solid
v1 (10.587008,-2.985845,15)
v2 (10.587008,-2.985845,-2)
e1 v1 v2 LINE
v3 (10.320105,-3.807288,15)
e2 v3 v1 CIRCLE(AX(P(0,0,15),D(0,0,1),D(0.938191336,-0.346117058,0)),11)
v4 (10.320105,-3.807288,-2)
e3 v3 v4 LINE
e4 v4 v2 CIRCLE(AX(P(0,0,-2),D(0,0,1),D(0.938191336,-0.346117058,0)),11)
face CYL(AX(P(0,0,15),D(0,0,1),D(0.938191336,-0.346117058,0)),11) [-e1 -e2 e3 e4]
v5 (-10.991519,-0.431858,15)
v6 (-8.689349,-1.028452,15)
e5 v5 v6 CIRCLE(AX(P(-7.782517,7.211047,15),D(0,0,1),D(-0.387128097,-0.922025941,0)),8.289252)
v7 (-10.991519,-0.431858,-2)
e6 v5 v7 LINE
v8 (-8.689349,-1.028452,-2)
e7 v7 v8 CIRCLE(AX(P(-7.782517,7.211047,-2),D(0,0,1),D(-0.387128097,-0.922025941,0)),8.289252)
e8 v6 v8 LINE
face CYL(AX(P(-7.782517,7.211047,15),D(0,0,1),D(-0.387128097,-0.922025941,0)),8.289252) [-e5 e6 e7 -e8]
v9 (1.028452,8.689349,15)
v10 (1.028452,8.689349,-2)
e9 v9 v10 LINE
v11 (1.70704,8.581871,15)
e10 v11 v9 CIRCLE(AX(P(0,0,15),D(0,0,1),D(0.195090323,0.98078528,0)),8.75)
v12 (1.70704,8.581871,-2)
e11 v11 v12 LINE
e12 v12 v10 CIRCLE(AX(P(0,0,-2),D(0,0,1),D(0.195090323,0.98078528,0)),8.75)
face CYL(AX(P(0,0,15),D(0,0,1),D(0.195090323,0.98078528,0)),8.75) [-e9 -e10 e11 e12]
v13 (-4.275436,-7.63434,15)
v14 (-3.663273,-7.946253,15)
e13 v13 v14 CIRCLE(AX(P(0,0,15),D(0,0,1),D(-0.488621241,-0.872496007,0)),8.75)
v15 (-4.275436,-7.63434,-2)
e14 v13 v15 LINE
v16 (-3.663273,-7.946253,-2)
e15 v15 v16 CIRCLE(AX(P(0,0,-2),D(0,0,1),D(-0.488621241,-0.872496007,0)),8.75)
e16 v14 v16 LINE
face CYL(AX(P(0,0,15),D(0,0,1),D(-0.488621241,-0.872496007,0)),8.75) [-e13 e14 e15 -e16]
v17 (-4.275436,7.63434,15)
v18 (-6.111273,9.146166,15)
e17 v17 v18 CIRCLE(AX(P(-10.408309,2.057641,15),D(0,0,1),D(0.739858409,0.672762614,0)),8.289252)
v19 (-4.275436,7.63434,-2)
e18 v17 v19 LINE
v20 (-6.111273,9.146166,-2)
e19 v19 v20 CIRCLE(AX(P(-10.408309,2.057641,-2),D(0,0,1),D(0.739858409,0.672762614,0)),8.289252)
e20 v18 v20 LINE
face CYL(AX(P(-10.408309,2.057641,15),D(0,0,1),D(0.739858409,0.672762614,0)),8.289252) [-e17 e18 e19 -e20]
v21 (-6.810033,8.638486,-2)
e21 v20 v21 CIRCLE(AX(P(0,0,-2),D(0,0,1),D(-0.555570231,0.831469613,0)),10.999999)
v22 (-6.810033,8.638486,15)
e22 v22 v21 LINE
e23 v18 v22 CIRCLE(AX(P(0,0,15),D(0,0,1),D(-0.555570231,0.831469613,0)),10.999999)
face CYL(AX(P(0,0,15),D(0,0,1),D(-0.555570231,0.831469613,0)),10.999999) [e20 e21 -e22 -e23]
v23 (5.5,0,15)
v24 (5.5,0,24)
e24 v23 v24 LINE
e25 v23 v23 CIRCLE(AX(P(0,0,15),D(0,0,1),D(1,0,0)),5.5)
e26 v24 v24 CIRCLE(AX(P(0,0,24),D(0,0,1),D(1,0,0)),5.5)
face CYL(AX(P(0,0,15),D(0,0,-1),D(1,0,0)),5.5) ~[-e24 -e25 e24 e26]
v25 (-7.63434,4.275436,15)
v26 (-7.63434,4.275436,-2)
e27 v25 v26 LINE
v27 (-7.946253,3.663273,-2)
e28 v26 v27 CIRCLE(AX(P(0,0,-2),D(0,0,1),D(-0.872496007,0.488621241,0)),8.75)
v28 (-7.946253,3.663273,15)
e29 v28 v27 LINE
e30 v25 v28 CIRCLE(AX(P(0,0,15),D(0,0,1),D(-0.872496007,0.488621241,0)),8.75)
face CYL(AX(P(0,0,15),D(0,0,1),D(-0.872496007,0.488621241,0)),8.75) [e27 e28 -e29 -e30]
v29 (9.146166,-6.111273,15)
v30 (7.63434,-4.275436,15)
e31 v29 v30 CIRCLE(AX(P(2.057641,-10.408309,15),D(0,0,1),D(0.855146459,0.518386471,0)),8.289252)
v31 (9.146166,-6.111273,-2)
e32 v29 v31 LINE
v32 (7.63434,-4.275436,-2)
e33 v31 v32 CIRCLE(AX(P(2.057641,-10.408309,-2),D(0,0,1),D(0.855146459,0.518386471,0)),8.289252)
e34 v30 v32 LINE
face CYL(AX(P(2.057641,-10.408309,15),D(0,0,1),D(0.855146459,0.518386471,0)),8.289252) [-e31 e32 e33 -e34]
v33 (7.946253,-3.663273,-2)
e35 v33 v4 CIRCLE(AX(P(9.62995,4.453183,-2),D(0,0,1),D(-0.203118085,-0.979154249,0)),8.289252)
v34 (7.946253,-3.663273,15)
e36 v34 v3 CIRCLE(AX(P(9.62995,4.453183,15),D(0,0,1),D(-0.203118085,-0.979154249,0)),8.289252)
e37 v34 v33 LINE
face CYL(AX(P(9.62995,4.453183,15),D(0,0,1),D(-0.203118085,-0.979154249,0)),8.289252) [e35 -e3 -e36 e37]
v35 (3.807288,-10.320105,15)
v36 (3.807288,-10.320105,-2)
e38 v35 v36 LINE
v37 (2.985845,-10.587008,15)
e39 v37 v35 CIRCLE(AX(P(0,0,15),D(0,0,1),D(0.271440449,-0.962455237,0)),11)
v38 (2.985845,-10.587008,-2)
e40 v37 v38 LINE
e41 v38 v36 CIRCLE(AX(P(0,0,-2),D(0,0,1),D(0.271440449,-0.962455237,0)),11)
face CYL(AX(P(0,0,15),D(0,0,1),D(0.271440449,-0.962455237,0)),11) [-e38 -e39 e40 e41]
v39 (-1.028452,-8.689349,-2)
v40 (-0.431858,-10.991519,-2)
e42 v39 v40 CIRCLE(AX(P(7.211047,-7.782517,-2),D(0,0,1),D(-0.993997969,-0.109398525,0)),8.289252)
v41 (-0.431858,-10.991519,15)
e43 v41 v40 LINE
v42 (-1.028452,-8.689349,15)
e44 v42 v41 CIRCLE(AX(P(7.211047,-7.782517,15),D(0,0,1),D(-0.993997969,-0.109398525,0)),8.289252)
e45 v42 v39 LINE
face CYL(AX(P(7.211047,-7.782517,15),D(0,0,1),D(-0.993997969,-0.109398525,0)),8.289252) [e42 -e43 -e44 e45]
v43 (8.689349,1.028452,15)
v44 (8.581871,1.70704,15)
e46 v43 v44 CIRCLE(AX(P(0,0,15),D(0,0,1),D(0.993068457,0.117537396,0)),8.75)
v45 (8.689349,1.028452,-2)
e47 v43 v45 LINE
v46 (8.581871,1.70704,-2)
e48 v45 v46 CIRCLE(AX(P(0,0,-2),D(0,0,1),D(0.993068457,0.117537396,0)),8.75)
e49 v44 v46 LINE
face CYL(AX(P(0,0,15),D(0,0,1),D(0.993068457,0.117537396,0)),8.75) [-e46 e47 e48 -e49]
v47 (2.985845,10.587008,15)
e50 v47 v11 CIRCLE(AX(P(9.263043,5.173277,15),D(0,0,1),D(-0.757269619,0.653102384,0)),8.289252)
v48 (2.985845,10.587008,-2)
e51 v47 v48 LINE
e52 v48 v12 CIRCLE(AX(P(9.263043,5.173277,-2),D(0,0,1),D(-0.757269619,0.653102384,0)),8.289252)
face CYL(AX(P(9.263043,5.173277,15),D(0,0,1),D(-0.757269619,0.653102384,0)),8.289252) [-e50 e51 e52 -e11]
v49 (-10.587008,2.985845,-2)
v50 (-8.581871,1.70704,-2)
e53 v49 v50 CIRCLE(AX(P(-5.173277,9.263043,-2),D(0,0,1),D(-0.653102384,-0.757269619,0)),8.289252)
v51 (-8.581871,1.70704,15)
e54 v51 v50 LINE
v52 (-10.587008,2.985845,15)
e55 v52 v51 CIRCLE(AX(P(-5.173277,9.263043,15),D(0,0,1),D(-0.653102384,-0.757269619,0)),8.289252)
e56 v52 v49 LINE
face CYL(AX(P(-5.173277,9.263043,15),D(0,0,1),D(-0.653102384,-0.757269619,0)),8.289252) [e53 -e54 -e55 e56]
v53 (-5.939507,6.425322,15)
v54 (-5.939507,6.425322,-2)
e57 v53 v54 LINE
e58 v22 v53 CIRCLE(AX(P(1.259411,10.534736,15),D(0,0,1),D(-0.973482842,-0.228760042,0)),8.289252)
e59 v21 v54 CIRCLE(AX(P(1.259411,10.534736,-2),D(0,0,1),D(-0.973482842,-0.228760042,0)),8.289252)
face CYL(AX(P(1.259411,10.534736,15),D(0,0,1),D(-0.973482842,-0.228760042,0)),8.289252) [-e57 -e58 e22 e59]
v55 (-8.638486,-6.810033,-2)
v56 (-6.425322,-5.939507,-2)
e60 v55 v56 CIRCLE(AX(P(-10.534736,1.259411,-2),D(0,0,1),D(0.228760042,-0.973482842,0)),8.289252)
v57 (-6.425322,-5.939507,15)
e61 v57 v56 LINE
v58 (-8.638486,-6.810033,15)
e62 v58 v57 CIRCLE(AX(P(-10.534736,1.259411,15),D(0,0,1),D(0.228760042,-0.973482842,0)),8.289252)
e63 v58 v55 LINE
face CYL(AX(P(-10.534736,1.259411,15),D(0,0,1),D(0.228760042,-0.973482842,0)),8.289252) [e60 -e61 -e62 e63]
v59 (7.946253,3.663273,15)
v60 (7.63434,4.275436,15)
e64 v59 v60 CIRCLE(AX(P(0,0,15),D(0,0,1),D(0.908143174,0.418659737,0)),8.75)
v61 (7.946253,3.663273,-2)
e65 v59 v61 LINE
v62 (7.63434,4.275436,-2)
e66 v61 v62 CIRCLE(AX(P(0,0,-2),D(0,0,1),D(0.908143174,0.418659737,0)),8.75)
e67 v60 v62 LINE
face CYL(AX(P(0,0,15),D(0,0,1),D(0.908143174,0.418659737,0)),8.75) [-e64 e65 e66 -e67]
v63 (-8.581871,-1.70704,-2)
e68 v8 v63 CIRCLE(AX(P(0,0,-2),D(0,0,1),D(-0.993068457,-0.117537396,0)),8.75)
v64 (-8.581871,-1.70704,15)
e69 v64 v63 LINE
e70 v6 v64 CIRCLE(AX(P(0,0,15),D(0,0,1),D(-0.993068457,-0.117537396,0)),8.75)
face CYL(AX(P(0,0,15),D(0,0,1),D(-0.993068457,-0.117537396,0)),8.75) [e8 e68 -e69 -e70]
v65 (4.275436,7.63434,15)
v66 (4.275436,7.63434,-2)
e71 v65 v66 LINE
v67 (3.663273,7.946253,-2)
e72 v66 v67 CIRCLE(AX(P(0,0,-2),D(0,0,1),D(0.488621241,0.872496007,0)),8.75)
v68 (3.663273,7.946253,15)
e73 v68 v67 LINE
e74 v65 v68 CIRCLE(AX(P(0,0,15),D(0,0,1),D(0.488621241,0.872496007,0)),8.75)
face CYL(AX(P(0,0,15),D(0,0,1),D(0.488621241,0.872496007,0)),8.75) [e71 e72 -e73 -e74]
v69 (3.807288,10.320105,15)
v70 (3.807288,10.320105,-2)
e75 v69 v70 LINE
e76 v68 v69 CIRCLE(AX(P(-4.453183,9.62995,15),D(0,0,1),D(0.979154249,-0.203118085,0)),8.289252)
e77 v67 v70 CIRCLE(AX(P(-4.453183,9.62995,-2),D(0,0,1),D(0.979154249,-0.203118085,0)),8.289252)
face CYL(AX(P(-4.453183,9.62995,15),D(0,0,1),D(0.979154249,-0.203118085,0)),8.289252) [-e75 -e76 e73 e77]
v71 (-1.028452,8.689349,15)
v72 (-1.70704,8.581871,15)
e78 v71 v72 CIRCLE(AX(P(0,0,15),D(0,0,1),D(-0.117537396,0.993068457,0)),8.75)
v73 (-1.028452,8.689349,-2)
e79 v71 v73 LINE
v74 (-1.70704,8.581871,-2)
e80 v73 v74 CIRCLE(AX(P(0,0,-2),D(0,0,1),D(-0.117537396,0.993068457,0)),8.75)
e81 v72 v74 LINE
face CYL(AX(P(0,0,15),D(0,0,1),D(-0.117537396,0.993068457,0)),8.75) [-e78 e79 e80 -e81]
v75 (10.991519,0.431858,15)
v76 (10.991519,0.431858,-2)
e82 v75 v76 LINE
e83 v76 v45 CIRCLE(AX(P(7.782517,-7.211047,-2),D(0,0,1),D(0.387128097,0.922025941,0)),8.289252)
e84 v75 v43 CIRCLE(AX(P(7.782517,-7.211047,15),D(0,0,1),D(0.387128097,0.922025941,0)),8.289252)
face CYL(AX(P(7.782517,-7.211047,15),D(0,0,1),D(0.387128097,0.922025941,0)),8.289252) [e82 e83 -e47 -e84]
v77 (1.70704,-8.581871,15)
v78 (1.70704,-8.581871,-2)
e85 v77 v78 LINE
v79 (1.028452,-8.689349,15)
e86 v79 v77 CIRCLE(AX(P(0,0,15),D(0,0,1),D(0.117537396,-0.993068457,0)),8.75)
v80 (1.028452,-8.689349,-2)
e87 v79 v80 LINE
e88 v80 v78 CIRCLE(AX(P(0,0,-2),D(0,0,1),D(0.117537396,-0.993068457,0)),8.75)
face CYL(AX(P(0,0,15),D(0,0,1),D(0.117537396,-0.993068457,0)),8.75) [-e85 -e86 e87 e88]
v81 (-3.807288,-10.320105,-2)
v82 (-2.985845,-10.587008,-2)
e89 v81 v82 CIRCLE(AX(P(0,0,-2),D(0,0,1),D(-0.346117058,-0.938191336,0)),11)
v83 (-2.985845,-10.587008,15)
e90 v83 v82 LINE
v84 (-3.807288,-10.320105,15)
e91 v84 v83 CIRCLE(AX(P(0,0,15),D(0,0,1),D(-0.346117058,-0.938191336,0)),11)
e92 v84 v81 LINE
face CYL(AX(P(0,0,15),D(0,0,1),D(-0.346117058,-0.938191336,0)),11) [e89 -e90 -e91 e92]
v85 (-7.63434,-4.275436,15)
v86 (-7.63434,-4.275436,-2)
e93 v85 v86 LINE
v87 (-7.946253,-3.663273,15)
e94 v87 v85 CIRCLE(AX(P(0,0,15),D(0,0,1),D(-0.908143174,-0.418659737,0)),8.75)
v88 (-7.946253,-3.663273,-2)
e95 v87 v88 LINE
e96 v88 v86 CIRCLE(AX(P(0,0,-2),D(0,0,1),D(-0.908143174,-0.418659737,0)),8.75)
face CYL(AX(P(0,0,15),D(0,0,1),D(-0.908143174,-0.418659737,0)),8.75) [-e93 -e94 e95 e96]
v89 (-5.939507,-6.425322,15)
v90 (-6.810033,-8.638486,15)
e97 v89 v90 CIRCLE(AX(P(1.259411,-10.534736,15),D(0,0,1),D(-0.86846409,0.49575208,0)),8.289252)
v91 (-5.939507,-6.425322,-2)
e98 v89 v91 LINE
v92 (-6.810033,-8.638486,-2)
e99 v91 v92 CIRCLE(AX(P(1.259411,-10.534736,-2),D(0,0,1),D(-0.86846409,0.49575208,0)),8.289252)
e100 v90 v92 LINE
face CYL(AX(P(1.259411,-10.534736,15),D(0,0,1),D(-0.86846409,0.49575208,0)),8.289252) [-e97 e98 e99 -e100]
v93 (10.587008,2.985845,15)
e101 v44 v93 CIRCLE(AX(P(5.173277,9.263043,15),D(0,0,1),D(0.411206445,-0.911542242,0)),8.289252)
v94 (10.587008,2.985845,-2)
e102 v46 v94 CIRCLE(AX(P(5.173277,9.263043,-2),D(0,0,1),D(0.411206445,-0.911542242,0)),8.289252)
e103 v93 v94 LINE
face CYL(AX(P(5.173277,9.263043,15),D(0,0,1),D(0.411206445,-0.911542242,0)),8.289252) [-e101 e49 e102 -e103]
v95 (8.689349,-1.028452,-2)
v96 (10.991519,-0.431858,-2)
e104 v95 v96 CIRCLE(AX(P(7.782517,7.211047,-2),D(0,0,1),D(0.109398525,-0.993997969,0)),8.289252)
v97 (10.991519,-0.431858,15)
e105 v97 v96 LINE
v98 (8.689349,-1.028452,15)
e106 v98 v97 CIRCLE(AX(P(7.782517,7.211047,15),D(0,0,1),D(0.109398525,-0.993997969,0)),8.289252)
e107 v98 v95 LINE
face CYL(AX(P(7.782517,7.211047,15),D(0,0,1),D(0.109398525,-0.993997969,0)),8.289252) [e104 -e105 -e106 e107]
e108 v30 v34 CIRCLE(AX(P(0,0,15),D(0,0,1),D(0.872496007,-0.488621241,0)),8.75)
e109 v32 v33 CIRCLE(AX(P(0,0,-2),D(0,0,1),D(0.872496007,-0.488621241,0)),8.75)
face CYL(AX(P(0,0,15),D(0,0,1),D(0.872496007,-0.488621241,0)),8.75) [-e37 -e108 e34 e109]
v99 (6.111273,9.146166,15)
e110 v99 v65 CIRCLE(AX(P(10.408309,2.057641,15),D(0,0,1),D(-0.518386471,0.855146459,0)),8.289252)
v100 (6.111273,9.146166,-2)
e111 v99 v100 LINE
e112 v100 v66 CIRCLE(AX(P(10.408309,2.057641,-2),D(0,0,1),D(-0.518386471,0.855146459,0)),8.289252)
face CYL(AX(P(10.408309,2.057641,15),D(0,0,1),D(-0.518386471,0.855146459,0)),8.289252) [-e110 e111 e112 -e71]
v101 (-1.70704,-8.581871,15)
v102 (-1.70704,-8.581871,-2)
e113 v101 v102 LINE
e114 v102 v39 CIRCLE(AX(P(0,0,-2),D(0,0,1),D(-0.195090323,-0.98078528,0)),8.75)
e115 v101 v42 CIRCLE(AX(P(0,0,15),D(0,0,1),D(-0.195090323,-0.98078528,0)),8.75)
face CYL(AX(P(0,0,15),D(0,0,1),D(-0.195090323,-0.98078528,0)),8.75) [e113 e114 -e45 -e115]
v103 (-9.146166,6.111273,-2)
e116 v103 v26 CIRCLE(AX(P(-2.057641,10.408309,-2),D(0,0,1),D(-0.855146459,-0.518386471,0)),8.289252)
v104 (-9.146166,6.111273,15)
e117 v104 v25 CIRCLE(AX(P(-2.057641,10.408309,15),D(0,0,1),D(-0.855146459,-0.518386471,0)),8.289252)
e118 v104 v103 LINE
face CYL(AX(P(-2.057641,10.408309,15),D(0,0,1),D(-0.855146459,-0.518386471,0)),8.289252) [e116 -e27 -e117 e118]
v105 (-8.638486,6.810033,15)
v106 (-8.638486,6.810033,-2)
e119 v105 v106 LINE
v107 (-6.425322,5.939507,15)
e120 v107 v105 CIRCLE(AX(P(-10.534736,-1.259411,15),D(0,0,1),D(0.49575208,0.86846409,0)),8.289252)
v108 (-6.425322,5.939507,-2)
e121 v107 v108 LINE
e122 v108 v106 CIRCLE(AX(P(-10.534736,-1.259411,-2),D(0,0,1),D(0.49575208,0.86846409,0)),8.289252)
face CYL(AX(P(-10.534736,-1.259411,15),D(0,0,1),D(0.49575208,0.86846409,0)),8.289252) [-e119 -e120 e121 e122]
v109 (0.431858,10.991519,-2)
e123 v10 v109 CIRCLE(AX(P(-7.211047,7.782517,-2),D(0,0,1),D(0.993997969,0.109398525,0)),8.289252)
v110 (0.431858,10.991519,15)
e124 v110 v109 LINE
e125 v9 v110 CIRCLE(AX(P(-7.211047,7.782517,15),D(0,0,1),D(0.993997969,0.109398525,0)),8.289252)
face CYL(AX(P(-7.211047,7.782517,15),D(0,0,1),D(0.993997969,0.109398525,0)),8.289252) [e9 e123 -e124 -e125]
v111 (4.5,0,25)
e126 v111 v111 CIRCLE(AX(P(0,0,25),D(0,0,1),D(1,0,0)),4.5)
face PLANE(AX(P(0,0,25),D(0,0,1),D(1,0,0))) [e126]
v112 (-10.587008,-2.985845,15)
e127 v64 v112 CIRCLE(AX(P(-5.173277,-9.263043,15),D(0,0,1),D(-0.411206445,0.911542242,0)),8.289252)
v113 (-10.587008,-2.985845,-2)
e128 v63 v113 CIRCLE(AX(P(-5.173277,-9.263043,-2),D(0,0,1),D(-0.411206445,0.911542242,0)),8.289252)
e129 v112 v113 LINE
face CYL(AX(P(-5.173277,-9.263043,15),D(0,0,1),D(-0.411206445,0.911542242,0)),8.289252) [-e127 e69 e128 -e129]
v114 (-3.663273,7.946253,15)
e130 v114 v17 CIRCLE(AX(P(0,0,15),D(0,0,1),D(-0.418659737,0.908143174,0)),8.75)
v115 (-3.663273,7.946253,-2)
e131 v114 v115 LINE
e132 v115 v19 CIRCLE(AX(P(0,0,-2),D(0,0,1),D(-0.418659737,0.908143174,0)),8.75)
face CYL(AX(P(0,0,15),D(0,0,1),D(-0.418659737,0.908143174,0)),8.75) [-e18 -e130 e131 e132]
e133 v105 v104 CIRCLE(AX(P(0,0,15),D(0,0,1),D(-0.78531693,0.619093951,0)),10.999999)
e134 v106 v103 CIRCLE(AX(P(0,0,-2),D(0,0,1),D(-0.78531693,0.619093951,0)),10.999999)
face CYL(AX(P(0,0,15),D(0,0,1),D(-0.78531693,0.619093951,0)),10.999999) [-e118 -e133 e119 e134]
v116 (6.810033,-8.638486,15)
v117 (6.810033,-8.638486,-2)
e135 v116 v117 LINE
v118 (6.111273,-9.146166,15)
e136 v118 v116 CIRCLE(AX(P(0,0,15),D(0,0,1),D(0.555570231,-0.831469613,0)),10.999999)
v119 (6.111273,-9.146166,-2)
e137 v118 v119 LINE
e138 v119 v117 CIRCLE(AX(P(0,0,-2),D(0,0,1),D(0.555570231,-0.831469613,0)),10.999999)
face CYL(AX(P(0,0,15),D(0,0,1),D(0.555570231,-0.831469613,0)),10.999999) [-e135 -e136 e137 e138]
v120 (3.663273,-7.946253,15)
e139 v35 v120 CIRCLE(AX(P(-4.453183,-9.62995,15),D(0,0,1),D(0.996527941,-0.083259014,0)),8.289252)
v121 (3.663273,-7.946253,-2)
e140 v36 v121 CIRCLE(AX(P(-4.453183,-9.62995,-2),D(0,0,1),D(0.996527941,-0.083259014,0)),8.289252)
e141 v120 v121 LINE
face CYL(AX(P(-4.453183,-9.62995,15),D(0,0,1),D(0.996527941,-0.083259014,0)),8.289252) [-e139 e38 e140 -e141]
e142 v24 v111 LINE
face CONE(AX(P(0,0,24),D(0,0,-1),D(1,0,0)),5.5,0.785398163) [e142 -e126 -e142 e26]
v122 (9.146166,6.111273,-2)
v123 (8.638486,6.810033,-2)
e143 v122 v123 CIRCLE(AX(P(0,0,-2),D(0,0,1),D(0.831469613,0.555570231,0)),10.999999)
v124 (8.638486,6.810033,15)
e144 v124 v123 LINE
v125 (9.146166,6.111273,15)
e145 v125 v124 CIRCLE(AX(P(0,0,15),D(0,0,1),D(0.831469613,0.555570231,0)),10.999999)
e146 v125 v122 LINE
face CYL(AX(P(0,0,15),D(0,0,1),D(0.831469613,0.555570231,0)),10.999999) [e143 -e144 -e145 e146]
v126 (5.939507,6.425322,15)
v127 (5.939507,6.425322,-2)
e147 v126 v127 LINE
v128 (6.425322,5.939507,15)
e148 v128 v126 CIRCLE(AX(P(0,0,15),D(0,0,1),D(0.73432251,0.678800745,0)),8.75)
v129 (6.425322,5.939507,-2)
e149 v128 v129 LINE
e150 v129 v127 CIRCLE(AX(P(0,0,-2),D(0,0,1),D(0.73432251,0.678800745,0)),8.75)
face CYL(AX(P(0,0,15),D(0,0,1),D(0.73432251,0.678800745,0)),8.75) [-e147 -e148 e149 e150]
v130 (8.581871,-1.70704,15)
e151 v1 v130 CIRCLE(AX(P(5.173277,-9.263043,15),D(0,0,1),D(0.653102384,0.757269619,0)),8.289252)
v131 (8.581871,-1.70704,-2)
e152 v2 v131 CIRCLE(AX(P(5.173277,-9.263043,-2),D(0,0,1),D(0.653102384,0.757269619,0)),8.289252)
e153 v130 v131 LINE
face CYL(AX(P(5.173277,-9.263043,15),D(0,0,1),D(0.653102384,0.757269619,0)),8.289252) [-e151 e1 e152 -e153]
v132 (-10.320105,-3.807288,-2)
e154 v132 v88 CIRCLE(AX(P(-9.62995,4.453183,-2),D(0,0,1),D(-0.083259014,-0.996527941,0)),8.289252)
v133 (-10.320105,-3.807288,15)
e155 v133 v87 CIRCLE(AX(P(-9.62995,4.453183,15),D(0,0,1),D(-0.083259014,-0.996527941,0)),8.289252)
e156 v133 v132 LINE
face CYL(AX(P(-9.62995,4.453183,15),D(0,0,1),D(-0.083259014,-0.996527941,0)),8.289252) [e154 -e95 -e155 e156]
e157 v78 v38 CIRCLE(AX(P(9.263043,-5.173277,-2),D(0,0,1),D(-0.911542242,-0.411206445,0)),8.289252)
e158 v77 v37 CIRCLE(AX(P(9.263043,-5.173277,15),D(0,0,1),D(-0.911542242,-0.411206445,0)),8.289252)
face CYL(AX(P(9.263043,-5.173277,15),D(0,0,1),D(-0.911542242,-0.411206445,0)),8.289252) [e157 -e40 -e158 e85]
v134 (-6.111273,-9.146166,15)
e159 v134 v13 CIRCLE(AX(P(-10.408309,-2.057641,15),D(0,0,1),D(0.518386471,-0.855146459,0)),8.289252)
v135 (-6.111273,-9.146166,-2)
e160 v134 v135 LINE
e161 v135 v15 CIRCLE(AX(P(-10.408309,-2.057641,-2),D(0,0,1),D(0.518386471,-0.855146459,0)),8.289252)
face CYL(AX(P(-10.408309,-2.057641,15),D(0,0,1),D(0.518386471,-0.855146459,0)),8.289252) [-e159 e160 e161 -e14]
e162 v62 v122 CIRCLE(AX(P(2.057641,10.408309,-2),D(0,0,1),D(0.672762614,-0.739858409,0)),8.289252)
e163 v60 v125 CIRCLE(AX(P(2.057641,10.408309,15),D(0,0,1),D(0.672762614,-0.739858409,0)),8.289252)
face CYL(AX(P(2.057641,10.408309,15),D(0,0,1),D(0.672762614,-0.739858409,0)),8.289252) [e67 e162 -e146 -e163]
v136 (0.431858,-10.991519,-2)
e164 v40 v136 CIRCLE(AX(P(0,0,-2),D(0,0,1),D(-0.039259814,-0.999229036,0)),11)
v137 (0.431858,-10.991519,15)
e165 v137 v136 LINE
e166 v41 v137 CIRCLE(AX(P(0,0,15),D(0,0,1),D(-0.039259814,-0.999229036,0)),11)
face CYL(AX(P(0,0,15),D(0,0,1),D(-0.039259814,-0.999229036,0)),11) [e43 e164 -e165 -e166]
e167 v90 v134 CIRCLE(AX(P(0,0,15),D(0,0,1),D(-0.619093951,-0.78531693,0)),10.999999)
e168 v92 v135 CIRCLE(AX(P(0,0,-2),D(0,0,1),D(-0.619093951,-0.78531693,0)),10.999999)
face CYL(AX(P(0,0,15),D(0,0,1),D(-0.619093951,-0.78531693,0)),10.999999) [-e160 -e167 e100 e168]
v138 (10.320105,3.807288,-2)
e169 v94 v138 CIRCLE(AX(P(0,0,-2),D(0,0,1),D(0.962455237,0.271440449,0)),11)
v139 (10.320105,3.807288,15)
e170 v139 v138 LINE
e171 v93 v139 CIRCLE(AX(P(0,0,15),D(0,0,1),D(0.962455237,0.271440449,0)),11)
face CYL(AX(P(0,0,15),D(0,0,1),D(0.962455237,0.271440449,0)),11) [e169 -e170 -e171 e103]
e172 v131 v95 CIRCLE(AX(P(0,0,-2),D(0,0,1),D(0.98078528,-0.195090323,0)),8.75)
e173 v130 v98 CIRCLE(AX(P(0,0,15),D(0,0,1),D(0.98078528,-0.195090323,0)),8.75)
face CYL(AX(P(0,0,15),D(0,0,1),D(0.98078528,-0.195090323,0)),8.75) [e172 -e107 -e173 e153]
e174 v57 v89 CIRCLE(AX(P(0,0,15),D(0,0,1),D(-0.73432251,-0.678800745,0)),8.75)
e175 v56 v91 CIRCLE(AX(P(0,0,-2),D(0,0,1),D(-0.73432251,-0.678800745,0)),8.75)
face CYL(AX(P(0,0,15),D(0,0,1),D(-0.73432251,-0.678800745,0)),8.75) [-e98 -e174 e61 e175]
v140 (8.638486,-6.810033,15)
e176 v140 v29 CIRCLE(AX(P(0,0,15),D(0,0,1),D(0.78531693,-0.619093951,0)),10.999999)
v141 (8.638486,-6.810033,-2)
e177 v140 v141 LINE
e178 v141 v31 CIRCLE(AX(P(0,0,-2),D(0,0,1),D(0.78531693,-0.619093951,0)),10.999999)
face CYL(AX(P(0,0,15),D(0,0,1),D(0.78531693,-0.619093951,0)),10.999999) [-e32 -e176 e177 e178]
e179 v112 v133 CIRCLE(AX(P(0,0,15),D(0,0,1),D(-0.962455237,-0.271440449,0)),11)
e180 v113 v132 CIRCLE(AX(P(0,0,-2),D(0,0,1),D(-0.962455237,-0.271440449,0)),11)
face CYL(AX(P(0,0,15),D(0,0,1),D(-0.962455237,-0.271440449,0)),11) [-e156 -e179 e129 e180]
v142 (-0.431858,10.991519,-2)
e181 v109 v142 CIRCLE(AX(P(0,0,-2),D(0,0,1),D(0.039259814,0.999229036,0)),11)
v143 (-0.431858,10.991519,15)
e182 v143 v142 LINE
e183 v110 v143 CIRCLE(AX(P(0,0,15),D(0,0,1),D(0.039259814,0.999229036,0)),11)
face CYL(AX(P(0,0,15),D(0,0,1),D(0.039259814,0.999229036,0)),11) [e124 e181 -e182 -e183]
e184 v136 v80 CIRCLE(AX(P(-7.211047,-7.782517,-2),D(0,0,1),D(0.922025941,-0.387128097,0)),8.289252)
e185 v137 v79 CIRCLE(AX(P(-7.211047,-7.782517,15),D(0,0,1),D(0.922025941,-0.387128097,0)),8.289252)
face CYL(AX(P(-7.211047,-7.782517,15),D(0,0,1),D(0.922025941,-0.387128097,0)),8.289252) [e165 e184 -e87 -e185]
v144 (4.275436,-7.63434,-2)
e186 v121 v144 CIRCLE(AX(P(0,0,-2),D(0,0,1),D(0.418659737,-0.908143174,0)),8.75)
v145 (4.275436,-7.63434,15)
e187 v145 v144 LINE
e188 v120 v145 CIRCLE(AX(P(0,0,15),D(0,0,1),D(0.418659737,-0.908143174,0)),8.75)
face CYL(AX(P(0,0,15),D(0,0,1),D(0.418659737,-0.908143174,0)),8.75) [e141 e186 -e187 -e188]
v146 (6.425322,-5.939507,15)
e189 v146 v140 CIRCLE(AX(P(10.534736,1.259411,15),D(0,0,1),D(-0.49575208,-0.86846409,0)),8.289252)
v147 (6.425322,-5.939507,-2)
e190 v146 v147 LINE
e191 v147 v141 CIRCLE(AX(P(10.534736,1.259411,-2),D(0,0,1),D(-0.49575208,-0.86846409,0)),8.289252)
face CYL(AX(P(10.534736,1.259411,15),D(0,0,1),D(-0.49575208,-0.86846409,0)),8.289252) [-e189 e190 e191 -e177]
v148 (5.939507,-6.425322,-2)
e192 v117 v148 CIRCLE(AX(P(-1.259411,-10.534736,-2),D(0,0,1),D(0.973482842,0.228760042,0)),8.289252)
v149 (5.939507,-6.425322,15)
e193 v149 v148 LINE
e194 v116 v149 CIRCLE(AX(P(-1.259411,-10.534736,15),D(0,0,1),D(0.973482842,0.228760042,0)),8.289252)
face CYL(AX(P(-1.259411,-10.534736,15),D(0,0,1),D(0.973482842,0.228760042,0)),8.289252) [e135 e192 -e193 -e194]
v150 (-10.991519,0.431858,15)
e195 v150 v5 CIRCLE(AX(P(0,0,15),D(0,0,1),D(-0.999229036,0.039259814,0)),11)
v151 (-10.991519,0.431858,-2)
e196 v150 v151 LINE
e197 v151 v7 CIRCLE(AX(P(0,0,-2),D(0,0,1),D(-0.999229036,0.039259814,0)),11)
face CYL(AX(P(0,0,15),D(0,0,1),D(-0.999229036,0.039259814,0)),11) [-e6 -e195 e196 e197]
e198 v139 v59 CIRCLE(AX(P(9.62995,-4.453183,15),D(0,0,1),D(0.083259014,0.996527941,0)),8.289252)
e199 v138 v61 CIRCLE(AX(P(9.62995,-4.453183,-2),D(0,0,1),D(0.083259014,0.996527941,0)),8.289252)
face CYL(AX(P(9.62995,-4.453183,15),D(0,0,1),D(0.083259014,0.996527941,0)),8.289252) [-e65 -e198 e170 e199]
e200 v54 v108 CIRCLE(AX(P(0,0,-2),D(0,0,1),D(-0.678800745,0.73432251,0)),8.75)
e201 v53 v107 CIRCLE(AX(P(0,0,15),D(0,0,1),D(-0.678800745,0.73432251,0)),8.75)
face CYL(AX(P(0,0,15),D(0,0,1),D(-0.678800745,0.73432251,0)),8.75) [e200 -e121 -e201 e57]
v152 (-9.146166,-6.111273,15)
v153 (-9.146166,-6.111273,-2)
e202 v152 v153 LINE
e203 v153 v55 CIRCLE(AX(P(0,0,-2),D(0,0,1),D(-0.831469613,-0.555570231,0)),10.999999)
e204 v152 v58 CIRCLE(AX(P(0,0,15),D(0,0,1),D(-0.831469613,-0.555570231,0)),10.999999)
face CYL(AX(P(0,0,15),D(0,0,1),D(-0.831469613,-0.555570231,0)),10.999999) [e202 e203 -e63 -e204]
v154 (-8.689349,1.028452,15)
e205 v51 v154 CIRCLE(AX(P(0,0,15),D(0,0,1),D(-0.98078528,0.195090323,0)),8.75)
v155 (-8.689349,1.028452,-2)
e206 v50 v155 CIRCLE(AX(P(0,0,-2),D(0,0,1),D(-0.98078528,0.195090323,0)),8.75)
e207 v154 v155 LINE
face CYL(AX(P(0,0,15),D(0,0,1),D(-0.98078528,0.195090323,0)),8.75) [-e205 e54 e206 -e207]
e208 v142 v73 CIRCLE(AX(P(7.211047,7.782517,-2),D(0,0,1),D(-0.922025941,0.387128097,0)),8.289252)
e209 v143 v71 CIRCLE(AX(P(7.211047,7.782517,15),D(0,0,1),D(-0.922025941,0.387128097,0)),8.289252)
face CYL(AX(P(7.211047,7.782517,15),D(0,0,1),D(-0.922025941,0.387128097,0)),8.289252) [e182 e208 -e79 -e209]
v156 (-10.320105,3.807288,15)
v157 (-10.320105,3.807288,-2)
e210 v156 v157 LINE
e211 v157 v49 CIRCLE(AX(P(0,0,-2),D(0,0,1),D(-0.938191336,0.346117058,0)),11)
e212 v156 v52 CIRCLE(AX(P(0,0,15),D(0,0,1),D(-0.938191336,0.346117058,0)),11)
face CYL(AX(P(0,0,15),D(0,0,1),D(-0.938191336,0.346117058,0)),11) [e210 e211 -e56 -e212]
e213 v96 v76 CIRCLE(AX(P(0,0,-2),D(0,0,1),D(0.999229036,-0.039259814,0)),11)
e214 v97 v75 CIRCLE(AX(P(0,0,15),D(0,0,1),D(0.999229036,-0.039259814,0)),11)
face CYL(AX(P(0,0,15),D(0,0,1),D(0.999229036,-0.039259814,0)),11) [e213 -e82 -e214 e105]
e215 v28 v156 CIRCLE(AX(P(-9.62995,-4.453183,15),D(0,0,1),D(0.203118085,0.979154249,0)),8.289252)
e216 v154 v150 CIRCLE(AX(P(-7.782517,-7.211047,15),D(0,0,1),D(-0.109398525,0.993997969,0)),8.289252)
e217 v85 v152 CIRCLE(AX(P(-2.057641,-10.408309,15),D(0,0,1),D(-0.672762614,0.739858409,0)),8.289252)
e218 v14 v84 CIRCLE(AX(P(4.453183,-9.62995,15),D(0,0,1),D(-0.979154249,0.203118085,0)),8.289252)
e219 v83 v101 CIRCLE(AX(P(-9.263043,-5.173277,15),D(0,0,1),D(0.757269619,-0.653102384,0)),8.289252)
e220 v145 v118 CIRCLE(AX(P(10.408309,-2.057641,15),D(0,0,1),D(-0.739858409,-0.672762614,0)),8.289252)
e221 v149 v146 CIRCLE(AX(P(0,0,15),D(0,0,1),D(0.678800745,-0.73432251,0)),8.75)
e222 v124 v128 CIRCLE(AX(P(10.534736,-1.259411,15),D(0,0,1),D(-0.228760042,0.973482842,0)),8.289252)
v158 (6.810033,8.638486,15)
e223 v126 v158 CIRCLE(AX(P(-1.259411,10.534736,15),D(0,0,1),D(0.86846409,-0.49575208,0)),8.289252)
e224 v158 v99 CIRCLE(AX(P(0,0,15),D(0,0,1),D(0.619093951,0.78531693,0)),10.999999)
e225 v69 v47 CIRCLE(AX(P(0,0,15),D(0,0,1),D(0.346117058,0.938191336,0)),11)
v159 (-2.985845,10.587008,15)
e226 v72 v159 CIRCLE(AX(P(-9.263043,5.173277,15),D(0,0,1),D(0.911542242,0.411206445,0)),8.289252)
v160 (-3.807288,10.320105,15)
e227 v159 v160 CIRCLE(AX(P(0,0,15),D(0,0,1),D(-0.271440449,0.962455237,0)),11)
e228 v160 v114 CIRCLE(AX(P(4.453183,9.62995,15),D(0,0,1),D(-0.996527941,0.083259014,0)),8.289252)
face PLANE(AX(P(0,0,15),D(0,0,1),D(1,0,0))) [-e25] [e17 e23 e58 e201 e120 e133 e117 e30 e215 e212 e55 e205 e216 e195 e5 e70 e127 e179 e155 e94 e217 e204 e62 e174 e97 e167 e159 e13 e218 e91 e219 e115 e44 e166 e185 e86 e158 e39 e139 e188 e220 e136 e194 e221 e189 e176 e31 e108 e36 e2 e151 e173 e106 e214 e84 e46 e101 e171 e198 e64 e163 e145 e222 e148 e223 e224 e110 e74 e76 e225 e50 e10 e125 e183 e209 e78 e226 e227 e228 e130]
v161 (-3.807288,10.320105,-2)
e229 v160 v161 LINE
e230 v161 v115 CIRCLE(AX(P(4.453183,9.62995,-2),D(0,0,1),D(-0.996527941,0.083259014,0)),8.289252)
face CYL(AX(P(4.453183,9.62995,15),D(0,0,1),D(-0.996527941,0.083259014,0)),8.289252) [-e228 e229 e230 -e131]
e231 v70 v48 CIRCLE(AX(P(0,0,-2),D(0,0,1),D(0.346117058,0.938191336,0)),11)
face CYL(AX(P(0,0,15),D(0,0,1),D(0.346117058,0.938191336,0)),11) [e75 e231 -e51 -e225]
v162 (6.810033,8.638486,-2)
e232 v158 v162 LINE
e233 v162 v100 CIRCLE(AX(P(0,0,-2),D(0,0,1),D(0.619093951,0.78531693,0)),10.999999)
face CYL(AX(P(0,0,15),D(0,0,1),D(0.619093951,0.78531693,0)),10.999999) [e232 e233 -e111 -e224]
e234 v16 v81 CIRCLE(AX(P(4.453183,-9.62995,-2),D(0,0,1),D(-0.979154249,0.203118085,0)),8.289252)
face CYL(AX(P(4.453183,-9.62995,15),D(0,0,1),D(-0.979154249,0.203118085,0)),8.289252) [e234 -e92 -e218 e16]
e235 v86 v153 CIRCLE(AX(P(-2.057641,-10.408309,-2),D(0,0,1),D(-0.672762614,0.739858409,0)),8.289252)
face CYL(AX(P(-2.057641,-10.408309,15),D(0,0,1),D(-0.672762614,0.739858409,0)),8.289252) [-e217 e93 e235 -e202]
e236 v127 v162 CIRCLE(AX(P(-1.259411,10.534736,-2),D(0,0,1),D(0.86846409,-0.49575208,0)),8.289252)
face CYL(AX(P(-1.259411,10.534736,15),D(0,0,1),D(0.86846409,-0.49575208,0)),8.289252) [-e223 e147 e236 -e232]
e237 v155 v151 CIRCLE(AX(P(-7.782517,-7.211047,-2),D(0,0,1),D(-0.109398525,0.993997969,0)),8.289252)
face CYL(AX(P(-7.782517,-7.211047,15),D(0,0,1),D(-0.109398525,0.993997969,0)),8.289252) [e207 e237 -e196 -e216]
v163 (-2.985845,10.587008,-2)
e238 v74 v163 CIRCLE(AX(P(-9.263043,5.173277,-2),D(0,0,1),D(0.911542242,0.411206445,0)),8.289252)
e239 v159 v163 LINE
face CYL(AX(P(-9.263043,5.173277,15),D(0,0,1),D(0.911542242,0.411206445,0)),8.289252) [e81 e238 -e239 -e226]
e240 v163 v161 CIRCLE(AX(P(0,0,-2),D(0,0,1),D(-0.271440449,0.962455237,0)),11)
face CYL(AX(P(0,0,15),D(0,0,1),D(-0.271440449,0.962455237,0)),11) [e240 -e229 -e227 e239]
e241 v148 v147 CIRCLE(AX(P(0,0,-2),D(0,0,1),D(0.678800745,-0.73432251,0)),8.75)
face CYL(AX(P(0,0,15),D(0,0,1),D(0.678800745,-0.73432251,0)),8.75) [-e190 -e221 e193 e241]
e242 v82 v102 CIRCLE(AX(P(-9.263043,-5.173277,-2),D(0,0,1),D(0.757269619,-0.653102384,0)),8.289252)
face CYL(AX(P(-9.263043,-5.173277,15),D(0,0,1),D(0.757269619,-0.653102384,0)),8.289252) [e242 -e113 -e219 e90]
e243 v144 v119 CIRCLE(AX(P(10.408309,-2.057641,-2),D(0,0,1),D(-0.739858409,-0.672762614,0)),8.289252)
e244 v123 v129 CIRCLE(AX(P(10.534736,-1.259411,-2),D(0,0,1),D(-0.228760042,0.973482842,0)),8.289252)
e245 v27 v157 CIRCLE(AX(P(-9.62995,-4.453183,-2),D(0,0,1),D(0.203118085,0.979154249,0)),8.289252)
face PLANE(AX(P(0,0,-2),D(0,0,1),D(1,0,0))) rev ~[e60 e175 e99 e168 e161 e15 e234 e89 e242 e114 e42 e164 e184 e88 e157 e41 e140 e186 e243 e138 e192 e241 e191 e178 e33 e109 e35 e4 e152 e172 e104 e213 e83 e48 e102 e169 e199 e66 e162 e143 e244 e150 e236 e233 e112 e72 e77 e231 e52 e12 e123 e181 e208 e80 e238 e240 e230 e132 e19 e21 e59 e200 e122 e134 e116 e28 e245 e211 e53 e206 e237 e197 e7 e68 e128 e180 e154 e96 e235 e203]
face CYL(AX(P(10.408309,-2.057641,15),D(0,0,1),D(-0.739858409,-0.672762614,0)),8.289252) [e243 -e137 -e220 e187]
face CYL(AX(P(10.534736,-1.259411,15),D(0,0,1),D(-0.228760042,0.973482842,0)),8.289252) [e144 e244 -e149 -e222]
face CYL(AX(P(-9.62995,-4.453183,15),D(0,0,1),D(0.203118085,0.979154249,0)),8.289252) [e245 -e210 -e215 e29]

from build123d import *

# Parameters (mm, degrees)
AUFSATZ_LINEAR_AUSTRAGEN1_DEPTH = 17
SKIZZE2_R                       = 5.5
AUFSATZ_LINEAR_AUSTRAGEN3_DEPTH = 10
FASE1_SIZE                      = 1


with BuildPart() as part:
    # Skizze1 → Aufsatz-Linear austragen1 (new body)
    with BuildSketch(Plane.XY.offset(14.999999972)):
        with BuildLine():
            ThreePointArc((-1.707040323, 8.581871229), (-2.274158717, 9.63053951), (-2.985844941, 10.587007573))
            ThreePointArc((-2.985844941, 10.587007573), (-3.399186929, 10.461621652), (-3.807287618, 10.320104668))
            ThreePointArc((-3.807287618, 10.320104668), (-3.820856046, 9.127987084), (-3.663272714, 7.946252795))
            ThreePointArc((-3.663272714, 7.946252795), (-3.972416885, 7.79630711), (-4.275435876, 7.634340085))
            ThreePointArc((-4.275435876, 7.634340085), (-5.138853841, 8.456433665), (-6.111272547, 9.146165711))
            ThreePointArc((-6.111272547, 9.146165711), (-6.465637758, 8.899186915), (-6.810033424, 8.638486217))
            ThreePointArc((-6.810033424, 8.638486217), (-6.454553173, 7.500522146), (-5.939506541, 6.425321977))
            ThreePointArc((-5.939506541, 6.425321977), (-6.187184354, 6.187184354), (-6.425321977, 5.939506541))
            ThreePointArc((-6.425321977, 5.939506541), (-7.500522146, 6.454553173), (-8.638486217, 6.810033424))
            ThreePointArc((-8.638486217, 6.810033424), (-8.899186915, 6.465637758), (-9.146165711, 6.111272547))
            ThreePointArc((-9.146165711, 6.111272547), (-8.456433665, 5.138853841), (-7.634340085, 4.275435876))
            ThreePointArc((-7.634340085, 4.275435876), (-7.79630711, 3.972416885), (-7.946252795, 3.663272714))
            ThreePointArc((-7.946252795, 3.663272714), (-9.127987084, 3.820856046), (-10.320104668, 3.807287618))
            ThreePointArc((-10.320104668, 3.807287618), (-10.461621652, 3.399186929), (-10.587007573, 2.985844941))
            ThreePointArc((-10.587007573, 2.985844941), (-9.63053951, 2.274158717), (-8.581871229, 1.707040323))
            ThreePointArc((-8.581871229, 1.707040323), (-8.642273006, 1.368801573), (-8.689349024, 1.028452231))
            ThreePointArc((-8.689349024, 1.028452231), (-9.861941048, 0.813146907), (-10.99151937, 0.431857972))
            ThreePointArc((-10.99151937, 0.431857972), (-10.999999971, 0), (-10.99151937, -0.431857972))
            ThreePointArc((-10.99151937, -0.431857972), (-9.861941048, -0.813146907), (-8.689349024, -1.028452231))
            ThreePointArc((-8.689349024, -1.028452231), (-8.642273006, -1.368801573), (-8.581871229, -1.707040323))
            ThreePointArc((-8.581871229, -1.707040323), (-9.63053951, -2.274158717), (-10.587007573, -2.985844941))
            ThreePointArc((-10.587007573, -2.985844941), (-10.461621652, -3.399186929), (-10.320104668, -3.807287618))
            ThreePointArc((-10.320104668, -3.807287618), (-9.127987084, -3.820856046), (-7.946252795, -3.663272714))
            ThreePointArc((-7.946252795, -3.663272714), (-7.79630711, -3.972416885), (-7.634340085, -4.275435876))
            ThreePointArc((-7.634340085, -4.275435876), (-8.456433665, -5.138853841), (-9.146165711, -6.111272547))
            ThreePointArc((-9.146165711, -6.111272547), (-8.899186915, -6.465637758), (-8.638486217, -6.810033424))
            ThreePointArc((-8.638486217, -6.810033424), (-7.500522146, -6.454553173), (-6.425321977, -5.939506541))
            ThreePointArc((-6.425321977, -5.939506541), (-6.187184354, -6.187184354), (-5.939506541, -6.425321977))
            ThreePointArc((-5.939506541, -6.425321977), (-6.454553173, -7.500522146), (-6.810033424, -8.638486217))
            ThreePointArc((-6.810033424, -8.638486217), (-6.465637758, -8.899186915), (-6.111272547, -9.146165711))
            ThreePointArc((-6.111272547, -9.146165711), (-5.138853841, -8.456433665), (-4.275435876, -7.634340085))
            ThreePointArc((-4.275435876, -7.634340085), (-3.972416885, -7.79630711), (-3.663272714, -7.946252795))
            ThreePointArc((-3.663272714, -7.946252795), (-3.820856046, -9.127987084), (-3.807287618, -10.320104668))
            ThreePointArc((-3.807287618, -10.320104668), (-3.399186929, -10.461621652), (-2.985844941, -10.587007573))
            ThreePointArc((-2.985844941, -10.587007573), (-2.274158717, -9.63053951), (-1.707040323, -8.581871229))
            ThreePointArc((-1.707040323, -8.581871229), (-1.368801573, -8.642273006), (-1.028452231, -8.689349024))
            ThreePointArc((-1.028452231, -8.689349024), (-0.813146907, -9.861941048), (-0.431857972, -10.99151937))
            ThreePointArc((-0.431857972, -10.99151937), (0, -10.999999971), (0.431857972, -10.99151937))
            ThreePointArc((0.431857972, -10.99151937), (0.813146907, -9.861941048), (1.028452231, -8.689349024))
            ThreePointArc((1.028452231, -8.689349024), (1.368801573, -8.642273006), (1.707040323, -8.581871229))
            ThreePointArc((1.707040323, -8.581871229), (2.274158717, -9.63053951), (2.985844941, -10.587007573))
            ThreePointArc((2.985844941, -10.587007573), (3.399186929, -10.461621652), (3.807287618, -10.320104668))
            ThreePointArc((3.807287618, -10.320104668), (3.820856046, -9.127987084), (3.663272714, -7.946252795))
            ThreePointArc((3.663272714, -7.946252795), (3.972416885, -7.79630711), (4.275435876, -7.634340085))
            ThreePointArc((4.275435876, -7.634340085), (5.138853841, -8.456433665), (6.111272547, -9.146165711))
            ThreePointArc((6.111272547, -9.146165711), (6.465637758, -8.899186915), (6.810033424, -8.638486217))
            ThreePointArc((6.810033424, -8.638486217), (6.454553173, -7.500522146), (5.939506541, -6.425321977))
            ThreePointArc((5.939506541, -6.425321977), (6.187184354, -6.187184354), (6.425321977, -5.939506541))
            ThreePointArc((6.425321977, -5.939506541), (7.500522146, -6.454553173), (8.638486217, -6.810033424))
            ThreePointArc((8.638486217, -6.810033424), (8.899186915, -6.465637758), (9.146165711, -6.111272547))
            ThreePointArc((9.146165711, -6.111272547), (8.456433665, -5.138853841), (7.634340085, -4.275435876))
            ThreePointArc((7.634340085, -4.275435876), (7.79630711, -3.972416885), (7.946252795, -3.663272714))
            ThreePointArc((7.946252795, -3.663272714), (9.127987084, -3.820856046), (10.320104668, -3.807287618))
            ThreePointArc((10.320104668, -3.807287618), (10.461621652, -3.399186929), (10.587007573, -2.985844941))
            ThreePointArc((10.587007573, -2.985844941), (9.63053951, -2.274158717), (8.581871229, -1.707040323))
            ThreePointArc((8.581871229, -1.707040323), (8.642273006, -1.368801573), (8.689349024, -1.028452231))
            ThreePointArc((8.689349024, -1.028452231), (9.861941048, -0.813146907), (10.99151937, -0.431857972))
            ThreePointArc((10.99151937, -0.431857972), (10.999999971, 0), (10.99151937, 0.431857972))
            ThreePointArc((10.99151937, 0.431857972), (9.861941048, 0.813146907), (8.689349024, 1.028452231))
            ThreePointArc((8.689349024, 1.028452231), (8.642273006, 1.368801573), (8.581871229, 1.707040323))
            ThreePointArc((8.581871229, 1.707040323), (9.63053951, 2.274158717), (10.587007573, 2.985844941))
            ThreePointArc((10.587007573, 2.985844941), (10.461621652, 3.399186929), (10.320104668, 3.807287618))
            ThreePointArc((10.320104668, 3.807287618), (9.127987084, 3.820856046), (7.946252795, 3.663272714))
            ThreePointArc((7.946252795, 3.663272714), (7.79630711, 3.972416885), (7.634340085, 4.275435876))
            ThreePointArc((7.634340085, 4.275435876), (8.456433665, 5.138853841), (9.146165711, 6.111272547))
            ThreePointArc((9.146165711, 6.111272547), (8.899186915, 6.465637758), (8.638486217, 6.810033424))
            ThreePointArc((8.638486217, 6.810033424), (7.500522146, 6.454553173), (6.425321977, 5.939506541))
            ThreePointArc((6.425321977, 5.939506541), (6.187184354, 6.187184354), (5.939506541, 6.425321977))
            ThreePointArc((5.939506541, 6.425321977), (6.454553173, 7.500522146), (6.810033424, 8.638486217))
            ThreePointArc((6.810033424, 8.638486217), (6.465637758, 8.899186915), (6.111272547, 9.146165711))
            ThreePointArc((6.111272547, 9.146165711), (5.138853841, 8.456433665), (4.275435876, 7.634340085))
            ThreePointArc((4.275435876, 7.634340085), (3.972416885, 7.79630711), (3.663272714, 7.946252795))
            ThreePointArc((3.663272714, 7.946252795), (3.820856046, 9.127987084), (3.807287618, 10.320104668))
            ThreePointArc((3.807287618, 10.320104668), (3.399186929, 10.461621652), (2.985844941, 10.587007573))
            ThreePointArc((2.985844941, 10.587007573), (2.274158717, 9.63053951), (1.707040323, 8.581871229))
            ThreePointArc((1.707040323, 8.581871229), (1.368801573, 8.642273006), (1.028452231, 8.689349024))
            ThreePointArc((1.028452231, 8.689349024), (0.813146907, 9.861941048), (0.431857972, 10.99151937))
            ThreePointArc((0.431857972, 10.99151937), (0, 10.999999971), (-0.431857972, 10.99151937))
            ThreePointArc((-0.431857972, 10.99151937), (-0.813146907, 9.861941048), (-1.028452231, 8.689349024))
            ThreePointArc((-1.028452231, 8.689349024), (-1.368801573, 8.642273006), (-1.707040323, 8.581871229))
        make_face()
    extrude(amount=-AUFSATZ_LINEAR_AUSTRAGEN1_DEPTH)

    # Skizze2 → Aufsatz-Linear austragen3 (add)
    with BuildSketch(Plane.XY.offset(14.999999972)):
        Circle(SKIZZE2_R)
    extrude(amount=AUFSATZ_LINEAR_AUSTRAGEN3_DEPTH)

    # Fase1
    fase1_edges = [part.edges().sort_by_distance(p)[0] for p in [
        (-5.5, 0, 24.999999972),
    ]]
    chamfer(fase1_edges, length=FASE1_SIZE)


solid = part.part
